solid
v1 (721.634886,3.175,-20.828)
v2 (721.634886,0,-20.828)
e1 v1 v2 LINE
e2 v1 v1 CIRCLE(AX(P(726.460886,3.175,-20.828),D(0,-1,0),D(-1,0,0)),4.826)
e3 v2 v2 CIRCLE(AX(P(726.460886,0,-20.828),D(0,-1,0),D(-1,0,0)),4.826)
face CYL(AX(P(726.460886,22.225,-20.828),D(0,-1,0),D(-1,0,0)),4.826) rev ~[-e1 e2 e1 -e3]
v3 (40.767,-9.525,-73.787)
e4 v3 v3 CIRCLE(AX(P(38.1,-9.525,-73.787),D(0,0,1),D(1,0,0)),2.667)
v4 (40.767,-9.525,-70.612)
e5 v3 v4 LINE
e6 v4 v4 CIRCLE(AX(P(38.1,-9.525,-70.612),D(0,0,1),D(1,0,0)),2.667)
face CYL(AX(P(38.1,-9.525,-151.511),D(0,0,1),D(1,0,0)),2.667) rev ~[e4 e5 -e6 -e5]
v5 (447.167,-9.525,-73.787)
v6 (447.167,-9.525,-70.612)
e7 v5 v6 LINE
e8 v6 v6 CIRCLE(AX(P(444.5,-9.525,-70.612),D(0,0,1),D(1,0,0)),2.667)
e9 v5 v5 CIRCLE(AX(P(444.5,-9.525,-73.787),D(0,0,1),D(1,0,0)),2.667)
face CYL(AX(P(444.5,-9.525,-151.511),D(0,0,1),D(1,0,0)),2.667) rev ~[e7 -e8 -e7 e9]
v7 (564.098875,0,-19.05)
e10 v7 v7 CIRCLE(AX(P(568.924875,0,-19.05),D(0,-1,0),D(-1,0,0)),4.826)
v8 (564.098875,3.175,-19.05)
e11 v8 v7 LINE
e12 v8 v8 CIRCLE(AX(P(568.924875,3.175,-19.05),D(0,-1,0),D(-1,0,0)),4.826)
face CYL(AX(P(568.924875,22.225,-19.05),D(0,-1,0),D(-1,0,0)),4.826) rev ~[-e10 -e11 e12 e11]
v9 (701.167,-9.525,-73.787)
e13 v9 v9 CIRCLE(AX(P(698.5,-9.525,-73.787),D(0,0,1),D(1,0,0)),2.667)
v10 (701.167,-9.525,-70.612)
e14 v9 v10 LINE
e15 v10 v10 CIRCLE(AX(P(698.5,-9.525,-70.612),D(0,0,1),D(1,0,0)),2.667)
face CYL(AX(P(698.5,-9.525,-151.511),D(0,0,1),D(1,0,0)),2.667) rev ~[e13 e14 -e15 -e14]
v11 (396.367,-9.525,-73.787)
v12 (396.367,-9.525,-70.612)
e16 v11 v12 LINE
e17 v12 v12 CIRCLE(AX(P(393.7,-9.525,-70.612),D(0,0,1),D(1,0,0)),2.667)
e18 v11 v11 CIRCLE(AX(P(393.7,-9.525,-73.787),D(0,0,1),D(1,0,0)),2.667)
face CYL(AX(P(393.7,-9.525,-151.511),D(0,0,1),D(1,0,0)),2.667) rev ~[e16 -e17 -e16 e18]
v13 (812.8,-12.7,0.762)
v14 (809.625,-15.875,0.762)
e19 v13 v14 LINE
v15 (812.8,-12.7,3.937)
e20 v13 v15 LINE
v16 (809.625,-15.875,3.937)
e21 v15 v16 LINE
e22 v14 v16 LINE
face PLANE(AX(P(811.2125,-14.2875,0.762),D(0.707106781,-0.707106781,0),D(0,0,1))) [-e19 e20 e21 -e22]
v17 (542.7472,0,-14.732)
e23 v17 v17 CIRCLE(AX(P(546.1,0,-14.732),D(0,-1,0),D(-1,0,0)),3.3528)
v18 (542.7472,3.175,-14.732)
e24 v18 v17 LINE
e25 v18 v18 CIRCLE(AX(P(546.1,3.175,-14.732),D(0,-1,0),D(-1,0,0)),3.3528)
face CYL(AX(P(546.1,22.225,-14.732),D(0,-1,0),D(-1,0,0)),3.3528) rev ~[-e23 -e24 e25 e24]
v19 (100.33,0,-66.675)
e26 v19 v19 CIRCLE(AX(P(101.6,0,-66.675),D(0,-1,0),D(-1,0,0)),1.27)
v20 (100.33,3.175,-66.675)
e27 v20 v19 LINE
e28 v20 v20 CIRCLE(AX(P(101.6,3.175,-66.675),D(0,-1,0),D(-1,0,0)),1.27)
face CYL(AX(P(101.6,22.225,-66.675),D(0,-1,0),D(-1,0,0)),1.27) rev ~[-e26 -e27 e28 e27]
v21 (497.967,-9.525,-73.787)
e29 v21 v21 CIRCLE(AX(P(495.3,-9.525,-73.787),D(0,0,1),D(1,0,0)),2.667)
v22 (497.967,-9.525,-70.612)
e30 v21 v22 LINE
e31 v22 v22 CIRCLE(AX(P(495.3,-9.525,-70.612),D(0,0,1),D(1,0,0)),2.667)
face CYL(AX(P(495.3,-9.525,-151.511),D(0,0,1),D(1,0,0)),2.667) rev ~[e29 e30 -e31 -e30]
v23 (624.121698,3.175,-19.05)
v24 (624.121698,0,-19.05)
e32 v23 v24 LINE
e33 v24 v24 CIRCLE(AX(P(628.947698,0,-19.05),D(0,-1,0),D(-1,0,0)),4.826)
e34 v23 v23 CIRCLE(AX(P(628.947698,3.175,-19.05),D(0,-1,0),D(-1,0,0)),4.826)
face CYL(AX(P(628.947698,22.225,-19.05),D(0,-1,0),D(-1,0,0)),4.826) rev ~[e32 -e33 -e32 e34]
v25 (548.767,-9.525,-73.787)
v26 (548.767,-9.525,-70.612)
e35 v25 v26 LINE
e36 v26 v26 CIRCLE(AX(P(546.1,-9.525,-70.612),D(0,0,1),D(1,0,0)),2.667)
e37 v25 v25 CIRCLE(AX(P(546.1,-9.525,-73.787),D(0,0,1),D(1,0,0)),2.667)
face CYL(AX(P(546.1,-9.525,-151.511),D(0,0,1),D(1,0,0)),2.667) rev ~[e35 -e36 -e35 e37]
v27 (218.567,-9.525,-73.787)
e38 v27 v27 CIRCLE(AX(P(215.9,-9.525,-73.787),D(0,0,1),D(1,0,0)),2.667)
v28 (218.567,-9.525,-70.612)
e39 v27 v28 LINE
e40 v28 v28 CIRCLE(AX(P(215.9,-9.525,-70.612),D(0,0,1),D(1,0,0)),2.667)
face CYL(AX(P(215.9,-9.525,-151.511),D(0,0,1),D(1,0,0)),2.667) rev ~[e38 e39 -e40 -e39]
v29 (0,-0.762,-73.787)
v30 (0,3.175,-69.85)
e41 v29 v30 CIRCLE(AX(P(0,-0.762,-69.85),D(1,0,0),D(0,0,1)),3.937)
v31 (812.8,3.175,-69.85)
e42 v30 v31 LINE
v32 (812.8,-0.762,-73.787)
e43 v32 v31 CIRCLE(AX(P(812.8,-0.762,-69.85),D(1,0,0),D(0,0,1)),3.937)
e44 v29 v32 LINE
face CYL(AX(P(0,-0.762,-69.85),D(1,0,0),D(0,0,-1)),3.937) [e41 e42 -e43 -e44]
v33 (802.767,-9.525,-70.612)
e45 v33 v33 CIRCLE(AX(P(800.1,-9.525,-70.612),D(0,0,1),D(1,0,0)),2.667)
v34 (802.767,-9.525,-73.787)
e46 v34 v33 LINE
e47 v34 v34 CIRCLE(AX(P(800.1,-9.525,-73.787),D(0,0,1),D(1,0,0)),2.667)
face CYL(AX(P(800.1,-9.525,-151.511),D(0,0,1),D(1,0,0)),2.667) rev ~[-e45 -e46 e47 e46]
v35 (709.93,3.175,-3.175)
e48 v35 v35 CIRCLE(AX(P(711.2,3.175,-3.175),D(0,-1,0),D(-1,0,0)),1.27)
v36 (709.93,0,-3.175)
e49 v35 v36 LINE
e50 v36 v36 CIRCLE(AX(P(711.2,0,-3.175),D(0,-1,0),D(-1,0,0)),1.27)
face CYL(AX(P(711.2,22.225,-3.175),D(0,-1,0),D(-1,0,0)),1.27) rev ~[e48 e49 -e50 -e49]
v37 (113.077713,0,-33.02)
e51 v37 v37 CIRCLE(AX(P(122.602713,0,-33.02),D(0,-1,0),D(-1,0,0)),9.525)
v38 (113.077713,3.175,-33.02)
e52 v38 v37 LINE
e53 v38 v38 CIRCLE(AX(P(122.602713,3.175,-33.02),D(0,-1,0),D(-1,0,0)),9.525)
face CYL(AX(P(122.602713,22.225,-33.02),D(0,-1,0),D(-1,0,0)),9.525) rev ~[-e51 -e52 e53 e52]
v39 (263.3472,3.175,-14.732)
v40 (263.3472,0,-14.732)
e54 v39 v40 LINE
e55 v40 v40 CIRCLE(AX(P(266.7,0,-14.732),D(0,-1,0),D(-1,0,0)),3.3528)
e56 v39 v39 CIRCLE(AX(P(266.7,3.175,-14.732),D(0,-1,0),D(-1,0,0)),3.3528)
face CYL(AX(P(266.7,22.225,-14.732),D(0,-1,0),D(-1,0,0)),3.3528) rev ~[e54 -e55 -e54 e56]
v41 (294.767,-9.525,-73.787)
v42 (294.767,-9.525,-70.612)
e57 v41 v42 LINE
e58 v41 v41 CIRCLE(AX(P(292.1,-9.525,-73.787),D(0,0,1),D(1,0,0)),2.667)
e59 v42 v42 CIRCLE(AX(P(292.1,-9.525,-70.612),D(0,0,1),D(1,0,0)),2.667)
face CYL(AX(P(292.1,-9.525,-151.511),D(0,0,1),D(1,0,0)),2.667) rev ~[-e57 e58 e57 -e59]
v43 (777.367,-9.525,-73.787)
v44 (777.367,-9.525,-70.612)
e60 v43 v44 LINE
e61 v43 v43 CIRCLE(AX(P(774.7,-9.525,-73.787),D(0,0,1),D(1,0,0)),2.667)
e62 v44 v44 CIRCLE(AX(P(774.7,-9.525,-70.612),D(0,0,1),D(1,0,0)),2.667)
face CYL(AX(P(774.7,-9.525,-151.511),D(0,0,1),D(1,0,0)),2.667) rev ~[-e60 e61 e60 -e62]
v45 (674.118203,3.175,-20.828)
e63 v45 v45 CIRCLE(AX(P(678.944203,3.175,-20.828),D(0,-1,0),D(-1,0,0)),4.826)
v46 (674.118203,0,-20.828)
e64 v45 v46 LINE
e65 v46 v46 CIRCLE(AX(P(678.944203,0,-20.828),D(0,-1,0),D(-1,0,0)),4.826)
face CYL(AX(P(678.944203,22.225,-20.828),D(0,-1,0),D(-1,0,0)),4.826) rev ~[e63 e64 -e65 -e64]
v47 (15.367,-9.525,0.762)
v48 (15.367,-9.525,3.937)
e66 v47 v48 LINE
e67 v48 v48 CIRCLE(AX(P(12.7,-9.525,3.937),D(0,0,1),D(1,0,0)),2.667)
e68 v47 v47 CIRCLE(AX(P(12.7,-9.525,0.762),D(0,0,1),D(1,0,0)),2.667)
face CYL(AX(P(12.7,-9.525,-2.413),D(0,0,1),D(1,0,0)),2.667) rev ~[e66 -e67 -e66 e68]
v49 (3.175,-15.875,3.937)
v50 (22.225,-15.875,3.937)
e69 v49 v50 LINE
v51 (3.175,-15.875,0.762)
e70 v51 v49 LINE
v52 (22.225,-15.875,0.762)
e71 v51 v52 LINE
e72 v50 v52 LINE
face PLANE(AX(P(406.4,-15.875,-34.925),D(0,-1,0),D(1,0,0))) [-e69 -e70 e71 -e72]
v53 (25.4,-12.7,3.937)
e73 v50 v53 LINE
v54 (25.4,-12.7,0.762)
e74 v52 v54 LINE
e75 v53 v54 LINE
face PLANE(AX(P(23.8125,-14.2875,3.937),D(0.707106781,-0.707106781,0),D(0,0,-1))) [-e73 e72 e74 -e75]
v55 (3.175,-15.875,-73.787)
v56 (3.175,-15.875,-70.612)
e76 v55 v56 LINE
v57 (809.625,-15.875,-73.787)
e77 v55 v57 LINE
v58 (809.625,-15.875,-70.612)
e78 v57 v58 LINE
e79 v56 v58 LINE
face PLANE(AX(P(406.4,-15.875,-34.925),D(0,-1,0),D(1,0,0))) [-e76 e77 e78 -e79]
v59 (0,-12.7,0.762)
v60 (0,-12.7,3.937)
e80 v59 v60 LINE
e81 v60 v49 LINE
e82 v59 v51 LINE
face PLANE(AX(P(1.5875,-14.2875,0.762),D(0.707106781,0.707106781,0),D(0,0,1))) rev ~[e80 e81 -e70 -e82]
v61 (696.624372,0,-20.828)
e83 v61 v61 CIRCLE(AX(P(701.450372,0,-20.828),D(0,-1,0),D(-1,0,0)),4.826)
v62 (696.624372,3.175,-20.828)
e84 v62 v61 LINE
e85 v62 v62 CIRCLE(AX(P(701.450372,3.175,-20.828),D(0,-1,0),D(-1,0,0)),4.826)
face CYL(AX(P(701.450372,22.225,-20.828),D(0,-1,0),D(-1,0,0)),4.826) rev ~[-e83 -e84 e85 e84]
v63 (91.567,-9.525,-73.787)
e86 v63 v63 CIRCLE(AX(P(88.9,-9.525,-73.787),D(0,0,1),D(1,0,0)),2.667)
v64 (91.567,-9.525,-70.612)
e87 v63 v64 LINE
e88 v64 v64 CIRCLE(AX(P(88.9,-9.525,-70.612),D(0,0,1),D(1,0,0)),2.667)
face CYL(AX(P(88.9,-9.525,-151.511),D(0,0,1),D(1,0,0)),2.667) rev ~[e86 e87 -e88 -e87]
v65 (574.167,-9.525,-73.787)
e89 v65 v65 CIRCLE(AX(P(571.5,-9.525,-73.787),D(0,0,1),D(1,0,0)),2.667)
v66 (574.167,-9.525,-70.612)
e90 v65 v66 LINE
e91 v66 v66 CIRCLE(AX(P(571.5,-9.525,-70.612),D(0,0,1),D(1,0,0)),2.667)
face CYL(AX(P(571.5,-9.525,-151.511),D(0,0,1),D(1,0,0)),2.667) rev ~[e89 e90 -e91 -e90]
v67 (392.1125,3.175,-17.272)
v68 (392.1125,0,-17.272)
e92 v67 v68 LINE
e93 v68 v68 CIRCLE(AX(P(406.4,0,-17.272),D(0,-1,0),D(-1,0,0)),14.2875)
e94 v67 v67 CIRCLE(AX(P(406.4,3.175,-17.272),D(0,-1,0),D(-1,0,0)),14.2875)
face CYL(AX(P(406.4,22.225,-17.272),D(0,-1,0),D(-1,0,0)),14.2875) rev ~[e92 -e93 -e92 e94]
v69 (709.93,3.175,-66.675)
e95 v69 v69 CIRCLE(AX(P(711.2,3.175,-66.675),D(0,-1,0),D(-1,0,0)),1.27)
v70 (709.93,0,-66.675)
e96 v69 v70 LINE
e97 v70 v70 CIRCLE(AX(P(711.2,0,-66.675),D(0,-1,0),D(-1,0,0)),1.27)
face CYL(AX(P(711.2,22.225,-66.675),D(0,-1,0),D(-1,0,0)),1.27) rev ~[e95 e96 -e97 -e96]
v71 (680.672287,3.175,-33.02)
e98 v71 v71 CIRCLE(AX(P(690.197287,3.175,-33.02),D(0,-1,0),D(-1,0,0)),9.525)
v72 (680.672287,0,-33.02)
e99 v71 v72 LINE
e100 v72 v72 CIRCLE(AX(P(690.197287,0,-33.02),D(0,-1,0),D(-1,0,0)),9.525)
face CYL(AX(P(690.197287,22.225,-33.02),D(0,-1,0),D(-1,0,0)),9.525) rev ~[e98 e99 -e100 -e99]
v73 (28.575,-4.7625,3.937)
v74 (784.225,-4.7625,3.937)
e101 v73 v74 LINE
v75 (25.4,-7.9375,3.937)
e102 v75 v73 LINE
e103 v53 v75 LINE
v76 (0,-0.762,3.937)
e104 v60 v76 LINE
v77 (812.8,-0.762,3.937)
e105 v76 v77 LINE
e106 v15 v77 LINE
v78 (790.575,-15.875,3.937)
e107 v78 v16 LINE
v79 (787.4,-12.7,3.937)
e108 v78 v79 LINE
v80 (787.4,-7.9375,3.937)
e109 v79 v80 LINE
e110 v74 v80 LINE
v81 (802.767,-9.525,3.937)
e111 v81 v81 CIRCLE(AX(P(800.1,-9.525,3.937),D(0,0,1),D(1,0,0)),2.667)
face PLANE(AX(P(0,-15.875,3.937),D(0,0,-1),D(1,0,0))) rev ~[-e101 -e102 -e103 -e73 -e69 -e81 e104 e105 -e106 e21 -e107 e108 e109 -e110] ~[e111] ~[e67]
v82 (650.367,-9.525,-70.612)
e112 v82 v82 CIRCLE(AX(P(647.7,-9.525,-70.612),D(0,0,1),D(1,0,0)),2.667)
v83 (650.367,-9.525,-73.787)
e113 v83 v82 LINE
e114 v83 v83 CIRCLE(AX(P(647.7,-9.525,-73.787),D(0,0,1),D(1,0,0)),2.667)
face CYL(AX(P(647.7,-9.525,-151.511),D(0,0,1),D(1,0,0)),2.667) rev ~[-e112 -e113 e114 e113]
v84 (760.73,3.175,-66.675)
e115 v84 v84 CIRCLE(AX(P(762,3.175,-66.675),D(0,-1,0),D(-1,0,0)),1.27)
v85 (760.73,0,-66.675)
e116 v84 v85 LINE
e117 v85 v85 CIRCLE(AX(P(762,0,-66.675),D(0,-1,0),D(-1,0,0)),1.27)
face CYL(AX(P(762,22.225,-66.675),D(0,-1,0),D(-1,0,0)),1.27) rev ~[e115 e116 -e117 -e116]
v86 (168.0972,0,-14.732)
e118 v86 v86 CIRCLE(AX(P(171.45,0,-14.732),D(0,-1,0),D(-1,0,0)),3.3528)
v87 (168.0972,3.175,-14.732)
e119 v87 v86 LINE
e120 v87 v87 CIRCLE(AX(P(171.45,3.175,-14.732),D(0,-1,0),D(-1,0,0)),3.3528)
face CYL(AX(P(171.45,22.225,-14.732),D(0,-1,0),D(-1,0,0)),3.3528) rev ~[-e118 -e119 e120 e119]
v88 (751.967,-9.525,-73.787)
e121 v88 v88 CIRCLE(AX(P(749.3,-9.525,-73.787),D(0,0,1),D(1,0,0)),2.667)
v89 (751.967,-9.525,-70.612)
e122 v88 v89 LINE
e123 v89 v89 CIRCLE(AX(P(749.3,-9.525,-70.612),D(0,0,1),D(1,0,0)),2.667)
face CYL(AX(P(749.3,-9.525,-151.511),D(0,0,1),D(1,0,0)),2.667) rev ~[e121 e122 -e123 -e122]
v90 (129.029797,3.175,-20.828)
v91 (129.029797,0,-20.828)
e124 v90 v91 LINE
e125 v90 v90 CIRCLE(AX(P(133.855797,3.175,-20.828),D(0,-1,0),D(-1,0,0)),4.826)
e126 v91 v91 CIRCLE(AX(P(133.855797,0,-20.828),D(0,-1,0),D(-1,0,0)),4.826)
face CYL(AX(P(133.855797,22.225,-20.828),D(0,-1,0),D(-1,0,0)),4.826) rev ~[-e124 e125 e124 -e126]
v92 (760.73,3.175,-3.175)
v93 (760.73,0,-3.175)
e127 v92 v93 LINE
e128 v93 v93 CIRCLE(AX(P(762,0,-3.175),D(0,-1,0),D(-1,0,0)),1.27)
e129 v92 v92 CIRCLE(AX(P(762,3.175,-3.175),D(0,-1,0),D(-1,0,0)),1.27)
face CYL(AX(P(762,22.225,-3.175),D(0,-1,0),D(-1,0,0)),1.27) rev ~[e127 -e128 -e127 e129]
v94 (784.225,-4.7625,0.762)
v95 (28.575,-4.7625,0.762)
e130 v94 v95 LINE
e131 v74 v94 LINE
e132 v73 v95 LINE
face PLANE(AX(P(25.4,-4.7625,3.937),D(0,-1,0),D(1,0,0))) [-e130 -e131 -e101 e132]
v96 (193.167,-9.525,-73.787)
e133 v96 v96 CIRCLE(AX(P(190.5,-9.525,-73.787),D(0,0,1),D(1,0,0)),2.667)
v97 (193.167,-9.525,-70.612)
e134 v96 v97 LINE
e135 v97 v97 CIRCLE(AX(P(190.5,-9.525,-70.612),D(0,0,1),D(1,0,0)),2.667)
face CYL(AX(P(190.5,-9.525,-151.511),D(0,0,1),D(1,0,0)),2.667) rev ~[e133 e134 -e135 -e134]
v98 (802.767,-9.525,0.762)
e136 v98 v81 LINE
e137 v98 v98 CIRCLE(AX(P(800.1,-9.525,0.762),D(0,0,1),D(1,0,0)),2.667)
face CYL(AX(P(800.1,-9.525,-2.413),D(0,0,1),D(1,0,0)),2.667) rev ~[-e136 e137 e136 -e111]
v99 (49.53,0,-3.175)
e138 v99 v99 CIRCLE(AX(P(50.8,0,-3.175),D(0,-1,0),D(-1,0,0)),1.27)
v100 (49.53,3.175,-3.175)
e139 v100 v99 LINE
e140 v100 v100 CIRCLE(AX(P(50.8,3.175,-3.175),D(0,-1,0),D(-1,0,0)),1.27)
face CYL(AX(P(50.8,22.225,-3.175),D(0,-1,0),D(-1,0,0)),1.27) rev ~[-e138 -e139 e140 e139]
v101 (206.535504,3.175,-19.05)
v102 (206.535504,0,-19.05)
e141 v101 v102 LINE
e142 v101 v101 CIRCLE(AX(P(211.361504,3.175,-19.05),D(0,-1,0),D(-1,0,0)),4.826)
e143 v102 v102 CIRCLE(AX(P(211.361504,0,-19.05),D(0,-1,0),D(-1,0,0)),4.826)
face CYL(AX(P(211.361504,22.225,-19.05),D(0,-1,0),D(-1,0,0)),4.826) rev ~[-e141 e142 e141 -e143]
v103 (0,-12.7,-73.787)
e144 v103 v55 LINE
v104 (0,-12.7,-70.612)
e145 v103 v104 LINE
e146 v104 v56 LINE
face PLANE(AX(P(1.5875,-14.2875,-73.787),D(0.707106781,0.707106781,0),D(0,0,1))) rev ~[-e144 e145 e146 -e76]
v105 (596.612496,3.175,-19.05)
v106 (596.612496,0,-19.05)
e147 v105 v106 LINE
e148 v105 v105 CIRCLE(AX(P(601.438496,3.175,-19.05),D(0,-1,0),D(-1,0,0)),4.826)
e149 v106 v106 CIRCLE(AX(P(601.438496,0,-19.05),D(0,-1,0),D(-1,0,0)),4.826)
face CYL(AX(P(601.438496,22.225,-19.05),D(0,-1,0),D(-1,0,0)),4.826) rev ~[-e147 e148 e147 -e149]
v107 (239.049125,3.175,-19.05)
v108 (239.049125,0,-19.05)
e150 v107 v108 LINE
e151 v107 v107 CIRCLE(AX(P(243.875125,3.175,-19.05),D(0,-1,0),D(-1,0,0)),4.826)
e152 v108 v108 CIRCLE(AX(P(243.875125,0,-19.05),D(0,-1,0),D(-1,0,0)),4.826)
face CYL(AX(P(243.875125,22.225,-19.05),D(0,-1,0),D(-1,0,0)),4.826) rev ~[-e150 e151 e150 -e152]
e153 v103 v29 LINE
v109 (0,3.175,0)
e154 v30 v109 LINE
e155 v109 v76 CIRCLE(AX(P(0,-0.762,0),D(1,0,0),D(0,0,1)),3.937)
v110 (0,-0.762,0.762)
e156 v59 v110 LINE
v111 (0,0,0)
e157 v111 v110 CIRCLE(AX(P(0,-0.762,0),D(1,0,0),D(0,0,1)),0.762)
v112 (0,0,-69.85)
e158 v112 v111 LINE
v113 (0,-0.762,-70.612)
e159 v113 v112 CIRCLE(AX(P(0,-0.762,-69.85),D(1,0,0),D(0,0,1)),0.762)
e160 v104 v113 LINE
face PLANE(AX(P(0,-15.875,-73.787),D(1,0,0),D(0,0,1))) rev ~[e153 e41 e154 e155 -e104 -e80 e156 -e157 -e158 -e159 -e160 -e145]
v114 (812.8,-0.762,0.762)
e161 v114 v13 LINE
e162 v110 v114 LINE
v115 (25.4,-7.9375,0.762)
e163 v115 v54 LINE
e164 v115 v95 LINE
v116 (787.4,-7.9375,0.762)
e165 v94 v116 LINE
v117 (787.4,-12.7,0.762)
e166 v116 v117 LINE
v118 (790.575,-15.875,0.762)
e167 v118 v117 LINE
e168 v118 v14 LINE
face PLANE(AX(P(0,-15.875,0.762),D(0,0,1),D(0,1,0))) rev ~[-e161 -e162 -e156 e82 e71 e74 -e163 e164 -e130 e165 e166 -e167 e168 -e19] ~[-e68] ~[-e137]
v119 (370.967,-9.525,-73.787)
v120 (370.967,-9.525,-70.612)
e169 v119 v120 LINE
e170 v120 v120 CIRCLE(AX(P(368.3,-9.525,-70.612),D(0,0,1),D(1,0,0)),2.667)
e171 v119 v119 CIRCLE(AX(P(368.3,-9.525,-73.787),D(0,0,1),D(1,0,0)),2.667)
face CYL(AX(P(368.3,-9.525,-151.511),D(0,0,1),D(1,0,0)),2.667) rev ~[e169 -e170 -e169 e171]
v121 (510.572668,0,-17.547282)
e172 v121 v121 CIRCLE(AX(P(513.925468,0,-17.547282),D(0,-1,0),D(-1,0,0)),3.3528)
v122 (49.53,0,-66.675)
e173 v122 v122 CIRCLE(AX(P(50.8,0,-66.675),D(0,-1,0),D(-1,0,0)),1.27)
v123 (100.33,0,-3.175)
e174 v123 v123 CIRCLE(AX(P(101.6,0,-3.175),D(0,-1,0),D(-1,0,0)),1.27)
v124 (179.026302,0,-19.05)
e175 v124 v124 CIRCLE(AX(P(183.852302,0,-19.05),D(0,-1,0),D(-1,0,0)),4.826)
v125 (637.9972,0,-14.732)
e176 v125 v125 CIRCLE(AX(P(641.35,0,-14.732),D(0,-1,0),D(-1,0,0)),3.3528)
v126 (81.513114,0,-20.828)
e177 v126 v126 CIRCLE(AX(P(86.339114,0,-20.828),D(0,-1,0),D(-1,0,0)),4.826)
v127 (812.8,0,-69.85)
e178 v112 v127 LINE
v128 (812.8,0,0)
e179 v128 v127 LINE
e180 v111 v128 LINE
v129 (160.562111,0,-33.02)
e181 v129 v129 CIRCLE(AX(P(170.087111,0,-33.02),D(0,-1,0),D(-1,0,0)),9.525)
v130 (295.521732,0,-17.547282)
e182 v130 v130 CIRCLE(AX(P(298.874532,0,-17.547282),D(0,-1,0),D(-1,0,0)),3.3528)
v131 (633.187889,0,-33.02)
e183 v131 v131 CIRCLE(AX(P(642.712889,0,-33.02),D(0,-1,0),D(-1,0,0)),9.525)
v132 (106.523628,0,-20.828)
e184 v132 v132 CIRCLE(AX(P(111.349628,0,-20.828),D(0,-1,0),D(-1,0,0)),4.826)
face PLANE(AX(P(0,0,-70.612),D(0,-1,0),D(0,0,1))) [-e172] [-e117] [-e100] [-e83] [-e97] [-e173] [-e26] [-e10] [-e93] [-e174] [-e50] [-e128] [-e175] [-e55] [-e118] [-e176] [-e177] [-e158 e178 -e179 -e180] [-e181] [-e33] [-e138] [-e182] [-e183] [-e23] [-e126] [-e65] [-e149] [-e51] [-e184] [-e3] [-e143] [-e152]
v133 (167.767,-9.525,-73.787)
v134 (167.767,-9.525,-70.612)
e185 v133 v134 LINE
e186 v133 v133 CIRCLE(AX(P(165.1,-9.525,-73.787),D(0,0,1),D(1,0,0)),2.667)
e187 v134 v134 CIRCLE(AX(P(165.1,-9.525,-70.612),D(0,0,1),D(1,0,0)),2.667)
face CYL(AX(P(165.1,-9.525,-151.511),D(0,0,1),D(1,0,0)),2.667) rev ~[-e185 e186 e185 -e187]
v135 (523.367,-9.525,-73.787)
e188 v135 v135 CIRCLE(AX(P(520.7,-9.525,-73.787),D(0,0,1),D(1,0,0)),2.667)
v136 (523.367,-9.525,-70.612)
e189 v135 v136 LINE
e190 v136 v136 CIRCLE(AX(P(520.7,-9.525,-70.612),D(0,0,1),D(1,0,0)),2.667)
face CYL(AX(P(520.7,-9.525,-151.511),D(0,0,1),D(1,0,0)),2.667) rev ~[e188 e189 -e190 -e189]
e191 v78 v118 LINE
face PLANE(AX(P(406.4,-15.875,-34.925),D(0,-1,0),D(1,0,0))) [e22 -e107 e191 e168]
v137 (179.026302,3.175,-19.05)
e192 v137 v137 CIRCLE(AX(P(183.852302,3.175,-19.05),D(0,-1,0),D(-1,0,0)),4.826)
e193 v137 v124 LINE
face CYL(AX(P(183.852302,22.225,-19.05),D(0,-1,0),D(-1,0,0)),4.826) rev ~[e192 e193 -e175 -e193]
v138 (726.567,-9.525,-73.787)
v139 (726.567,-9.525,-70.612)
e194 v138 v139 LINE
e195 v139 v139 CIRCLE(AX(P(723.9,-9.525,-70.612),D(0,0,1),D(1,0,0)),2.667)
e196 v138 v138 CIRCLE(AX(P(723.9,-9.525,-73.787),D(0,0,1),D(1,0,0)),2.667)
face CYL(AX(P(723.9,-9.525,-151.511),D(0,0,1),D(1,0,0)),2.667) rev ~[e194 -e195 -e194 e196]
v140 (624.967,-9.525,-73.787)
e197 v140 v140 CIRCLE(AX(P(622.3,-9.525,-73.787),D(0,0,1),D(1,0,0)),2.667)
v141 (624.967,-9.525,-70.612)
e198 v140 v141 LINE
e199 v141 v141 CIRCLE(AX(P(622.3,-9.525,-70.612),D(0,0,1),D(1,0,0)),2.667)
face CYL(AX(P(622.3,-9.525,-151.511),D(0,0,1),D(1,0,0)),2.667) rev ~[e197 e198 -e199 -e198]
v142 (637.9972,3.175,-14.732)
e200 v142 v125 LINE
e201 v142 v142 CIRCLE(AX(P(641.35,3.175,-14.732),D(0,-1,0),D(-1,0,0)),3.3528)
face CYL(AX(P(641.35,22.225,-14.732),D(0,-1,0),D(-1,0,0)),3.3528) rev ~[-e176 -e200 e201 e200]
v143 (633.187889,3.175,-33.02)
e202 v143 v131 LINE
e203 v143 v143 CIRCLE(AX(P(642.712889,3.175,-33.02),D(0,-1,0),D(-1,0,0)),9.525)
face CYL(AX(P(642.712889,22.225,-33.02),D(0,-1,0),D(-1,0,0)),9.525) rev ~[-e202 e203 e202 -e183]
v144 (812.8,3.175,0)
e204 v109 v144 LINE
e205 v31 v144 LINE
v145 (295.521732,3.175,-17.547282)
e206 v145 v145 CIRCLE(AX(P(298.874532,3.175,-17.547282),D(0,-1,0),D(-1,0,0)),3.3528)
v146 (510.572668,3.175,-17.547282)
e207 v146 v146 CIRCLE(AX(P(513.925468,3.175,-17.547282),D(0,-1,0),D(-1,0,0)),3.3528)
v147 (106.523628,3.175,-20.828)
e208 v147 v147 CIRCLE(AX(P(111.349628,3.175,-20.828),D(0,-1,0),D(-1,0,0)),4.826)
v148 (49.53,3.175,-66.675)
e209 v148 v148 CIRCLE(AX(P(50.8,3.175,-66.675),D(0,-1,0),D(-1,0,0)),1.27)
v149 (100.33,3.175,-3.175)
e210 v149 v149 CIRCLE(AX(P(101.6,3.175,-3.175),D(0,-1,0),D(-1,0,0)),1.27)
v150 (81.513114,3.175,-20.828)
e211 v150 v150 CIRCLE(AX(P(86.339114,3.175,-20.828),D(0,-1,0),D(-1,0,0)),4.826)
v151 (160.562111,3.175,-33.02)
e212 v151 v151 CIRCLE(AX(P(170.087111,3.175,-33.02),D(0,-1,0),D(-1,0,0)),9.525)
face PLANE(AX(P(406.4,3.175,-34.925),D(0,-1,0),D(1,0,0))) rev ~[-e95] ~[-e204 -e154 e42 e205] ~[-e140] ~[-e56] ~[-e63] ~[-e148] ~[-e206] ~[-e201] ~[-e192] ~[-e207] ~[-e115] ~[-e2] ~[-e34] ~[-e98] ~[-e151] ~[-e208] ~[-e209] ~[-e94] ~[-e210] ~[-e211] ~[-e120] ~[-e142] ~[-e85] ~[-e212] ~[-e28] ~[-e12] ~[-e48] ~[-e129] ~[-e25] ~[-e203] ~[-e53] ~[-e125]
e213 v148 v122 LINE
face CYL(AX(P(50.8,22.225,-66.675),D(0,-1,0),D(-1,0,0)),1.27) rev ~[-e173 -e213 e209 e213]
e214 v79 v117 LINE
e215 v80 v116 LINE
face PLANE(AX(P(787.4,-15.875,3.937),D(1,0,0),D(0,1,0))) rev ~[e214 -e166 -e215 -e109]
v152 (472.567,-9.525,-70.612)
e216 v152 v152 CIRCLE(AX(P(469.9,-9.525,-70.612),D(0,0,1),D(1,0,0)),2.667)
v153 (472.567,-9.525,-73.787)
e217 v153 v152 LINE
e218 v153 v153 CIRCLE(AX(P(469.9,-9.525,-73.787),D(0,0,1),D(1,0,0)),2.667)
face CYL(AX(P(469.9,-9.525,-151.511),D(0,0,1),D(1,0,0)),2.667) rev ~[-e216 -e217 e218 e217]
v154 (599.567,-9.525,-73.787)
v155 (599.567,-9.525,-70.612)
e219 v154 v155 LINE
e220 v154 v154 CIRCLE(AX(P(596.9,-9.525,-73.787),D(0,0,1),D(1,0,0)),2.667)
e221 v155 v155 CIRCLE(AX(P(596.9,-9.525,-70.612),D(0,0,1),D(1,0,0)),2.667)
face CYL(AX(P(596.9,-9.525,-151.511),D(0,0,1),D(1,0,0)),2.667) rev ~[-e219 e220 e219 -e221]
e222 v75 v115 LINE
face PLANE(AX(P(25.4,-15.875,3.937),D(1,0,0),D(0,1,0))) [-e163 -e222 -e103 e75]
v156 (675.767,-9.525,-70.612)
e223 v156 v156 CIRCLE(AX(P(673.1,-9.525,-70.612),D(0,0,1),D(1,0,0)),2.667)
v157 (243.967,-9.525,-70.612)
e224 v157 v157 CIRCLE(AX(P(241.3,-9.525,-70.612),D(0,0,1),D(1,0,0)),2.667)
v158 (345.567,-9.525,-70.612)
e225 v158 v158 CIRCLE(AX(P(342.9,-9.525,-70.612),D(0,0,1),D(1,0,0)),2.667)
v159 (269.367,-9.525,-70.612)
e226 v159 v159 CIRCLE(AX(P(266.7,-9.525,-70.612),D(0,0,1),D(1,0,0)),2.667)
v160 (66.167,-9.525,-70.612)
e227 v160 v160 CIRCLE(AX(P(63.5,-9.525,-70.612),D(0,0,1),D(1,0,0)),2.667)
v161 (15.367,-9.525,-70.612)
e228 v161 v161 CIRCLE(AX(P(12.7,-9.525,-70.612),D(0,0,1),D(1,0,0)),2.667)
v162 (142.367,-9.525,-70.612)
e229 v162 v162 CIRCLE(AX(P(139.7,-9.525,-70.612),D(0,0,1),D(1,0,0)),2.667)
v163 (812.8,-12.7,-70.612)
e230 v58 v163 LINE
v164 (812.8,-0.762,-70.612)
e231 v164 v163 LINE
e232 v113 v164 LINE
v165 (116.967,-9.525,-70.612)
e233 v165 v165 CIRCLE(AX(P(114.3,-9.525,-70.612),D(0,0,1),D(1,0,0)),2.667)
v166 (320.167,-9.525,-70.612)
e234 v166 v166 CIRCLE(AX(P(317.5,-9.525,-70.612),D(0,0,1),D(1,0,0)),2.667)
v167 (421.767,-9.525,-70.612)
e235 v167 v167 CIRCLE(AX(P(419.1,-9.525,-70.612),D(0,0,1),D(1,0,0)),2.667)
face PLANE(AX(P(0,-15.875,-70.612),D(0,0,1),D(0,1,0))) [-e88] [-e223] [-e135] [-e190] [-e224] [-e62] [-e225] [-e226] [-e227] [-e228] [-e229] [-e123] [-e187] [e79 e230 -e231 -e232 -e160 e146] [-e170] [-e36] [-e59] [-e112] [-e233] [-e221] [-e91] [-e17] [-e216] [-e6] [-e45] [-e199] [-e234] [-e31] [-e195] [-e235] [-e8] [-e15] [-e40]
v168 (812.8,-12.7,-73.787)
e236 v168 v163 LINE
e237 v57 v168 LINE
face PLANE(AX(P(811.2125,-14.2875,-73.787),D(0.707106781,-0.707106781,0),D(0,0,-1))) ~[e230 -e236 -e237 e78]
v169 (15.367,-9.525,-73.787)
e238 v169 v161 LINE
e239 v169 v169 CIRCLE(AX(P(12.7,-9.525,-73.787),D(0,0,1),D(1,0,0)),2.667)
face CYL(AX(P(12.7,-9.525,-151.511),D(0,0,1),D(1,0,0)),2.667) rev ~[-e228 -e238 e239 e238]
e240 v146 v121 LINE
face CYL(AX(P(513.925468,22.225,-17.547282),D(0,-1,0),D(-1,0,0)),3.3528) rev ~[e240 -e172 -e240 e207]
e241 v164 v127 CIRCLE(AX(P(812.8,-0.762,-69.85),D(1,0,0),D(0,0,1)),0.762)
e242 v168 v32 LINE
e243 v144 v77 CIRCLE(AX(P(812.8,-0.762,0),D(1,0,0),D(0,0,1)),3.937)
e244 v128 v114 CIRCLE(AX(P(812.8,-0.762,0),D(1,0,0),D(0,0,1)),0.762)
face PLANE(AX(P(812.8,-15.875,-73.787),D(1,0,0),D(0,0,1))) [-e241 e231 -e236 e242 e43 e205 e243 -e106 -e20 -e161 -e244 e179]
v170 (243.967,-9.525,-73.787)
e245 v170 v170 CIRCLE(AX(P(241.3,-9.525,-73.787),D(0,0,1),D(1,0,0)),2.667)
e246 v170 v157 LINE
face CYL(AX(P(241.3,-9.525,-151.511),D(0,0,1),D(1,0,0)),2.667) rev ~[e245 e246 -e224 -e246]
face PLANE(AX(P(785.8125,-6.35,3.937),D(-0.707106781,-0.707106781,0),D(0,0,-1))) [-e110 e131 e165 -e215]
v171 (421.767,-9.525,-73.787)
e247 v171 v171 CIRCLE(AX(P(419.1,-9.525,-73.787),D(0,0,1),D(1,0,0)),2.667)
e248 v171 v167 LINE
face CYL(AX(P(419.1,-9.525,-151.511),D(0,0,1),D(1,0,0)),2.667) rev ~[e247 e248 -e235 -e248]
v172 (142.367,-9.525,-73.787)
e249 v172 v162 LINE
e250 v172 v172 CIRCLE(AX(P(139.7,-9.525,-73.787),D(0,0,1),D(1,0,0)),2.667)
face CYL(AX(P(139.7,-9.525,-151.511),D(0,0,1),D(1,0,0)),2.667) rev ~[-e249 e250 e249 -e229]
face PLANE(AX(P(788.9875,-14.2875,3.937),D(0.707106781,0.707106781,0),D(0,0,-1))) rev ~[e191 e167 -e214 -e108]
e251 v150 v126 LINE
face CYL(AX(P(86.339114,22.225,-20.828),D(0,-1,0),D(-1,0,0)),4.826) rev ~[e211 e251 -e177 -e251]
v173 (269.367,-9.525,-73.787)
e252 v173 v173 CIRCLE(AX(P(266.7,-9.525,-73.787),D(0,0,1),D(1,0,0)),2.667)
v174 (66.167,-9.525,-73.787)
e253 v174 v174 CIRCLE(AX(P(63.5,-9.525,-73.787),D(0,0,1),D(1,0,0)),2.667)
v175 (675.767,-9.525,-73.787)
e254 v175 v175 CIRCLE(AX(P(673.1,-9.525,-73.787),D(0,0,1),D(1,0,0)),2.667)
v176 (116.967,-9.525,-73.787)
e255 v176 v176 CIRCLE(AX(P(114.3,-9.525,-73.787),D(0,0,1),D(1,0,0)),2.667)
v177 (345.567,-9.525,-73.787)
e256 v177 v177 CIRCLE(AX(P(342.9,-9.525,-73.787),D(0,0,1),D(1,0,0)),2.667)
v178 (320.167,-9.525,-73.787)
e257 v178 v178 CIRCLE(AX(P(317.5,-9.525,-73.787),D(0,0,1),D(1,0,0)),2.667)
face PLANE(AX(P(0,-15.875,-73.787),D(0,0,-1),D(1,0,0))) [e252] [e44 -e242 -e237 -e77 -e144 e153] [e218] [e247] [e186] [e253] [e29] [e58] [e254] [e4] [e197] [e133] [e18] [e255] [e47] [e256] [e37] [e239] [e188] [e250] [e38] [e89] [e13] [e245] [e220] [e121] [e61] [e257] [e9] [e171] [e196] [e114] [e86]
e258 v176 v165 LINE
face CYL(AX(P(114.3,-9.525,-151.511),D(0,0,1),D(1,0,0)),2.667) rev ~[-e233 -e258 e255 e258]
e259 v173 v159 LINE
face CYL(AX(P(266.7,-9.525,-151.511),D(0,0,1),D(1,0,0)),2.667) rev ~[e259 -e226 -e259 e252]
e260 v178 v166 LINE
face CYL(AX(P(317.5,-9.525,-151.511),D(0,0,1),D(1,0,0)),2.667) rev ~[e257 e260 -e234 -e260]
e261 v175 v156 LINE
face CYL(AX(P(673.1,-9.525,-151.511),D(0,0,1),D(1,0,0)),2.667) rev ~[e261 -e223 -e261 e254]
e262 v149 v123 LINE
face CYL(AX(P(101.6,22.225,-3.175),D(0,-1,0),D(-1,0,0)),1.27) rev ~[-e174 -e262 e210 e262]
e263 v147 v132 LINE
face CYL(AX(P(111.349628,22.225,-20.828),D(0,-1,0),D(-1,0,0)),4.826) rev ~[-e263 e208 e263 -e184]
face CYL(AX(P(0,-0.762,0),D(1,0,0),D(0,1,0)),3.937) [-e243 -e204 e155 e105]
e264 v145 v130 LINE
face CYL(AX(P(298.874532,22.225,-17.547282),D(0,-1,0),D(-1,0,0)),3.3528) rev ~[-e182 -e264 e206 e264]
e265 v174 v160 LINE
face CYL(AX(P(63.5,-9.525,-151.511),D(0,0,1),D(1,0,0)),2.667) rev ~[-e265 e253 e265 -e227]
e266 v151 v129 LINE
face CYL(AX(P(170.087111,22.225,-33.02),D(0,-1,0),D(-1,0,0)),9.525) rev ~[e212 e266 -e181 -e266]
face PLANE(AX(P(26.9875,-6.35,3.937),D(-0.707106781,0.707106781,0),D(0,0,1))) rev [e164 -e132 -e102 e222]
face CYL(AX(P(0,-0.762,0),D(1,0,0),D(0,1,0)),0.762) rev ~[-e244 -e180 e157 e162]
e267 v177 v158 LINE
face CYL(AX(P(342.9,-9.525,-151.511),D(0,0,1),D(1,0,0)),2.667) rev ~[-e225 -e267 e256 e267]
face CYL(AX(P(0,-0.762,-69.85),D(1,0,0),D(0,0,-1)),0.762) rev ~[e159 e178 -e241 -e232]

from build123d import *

# Parameters (mm, degrees)
SKETCH1_W                       = 812.8
SKETCH1_H                       = 77.724
BOSS_EXTRUDE1_DEPTH             = 19.05
SKETCH2_W                       = 71.374
SKETCH2_H                       = 15.875
CUT_EXTRUDE1_DEPTH              = 817.296745672
CUT_EXTRUDE2_REACH              = 818.662
SKETCH3_W                       = 762
SKETCH3_H                       = 11.1125
HOLE1_D                         = 28.575
HOLE1_DEPTH                     = 19.05
HOLE2_D                         = 9.652
HOLE2_DEPTH                     = 19.05
F_2_CLEARANCE_HOLE1_D           = 2.54
F_2_CLEARANCE_HOLE1_DEPTH       = 19.05
F_3_4_0_75_DIAMETER_HOLE1_D     = 19.05
F_3_4_0_75_DIAMETER_HOLE1_DEPTH = 19.05
F_1_4_CLEARANCE_HOLE1_D         = 6.7056
F_1_4_CLEARANCE_HOLE1_DEPTH     = 19.05
F_10_CLEARANCE_HOLE1_D          = 5.334
F_10_CLEARANCE_HOLE1_DEPTH      = 3.175
F_10_CLEARANCE_HOLE2_D          = 5.334
F_10_CLEARANCE_HOLE2_DEPTH      = 77.724
CHAMFER1_SIZE                   = 3.175
FILLET1_R                       = 0.762
FILLET2_R                       = 3.937


with BuildPart() as part:
    # Sketch1 → Boss-Extrude1 (new body)
    with BuildSketch(Plane.XZ.offset(15.875)):
        with Locations((406.4, -34.925)):
            Rectangle(SKETCH1_W, SKETCH1_H)
    extrude(amount=-BOSS_EXTRUDE1_DEPTH)

    # Sketch2 → Cut-Extrude1 (cut, through all)
    with BuildSketch(Plane.ZY):
        with Locations((-34.925, -7.9375)):
            Rectangle(SKETCH2_W, SKETCH2_H)
    extrude(amount=-CUT_EXTRUDE1_DEPTH, mode=Mode.SUBTRACT)

    # Sketch3 → Cut-Extrude2 (cut, up to next)
    with BuildSketch(Plane.XY.offset(3.937), mode=Mode.PRIVATE) as cut_extrude2_sk1:
        with Locations((406.4, -10.31875)):
            Rectangle(SKETCH3_W, SKETCH3_H)
    cut_extrude2_tool1 = extrude(cut_extrude2_sk1.sketch, amount=-CUT_EXTRUDE2_REACH, mode=Mode.PRIVATE) & part.part
    add(cut_extrude2_tool1.solids().sort_by_distance((406.4, -10.31875, 3.937))[0], mode=Mode.SUBTRACT)

    # Hole1
    with Locations(Plane(origin=(0, 3.175, 0), x_dir=(1, 0, 0), z_dir=(0, 1, 0))):
        with Locations((406.4, 17.272)):
            Hole(HOLE1_D / 2, depth=HOLE1_DEPTH)

    # Hole2
    with Locations(Plane(origin=(0, 3.175, 0), x_dir=(1, 0, 0), z_dir=(0, 1, 0))):
        with Locations((568.924874752, 19.05), (601.438495912, 19.05), (628.947697627, 19.05), (243.875125248, 19.05), (211.361504088, 19.05), (183.852302373, 19.05), (678.944202666, 20.828), (701.450372003, 20.828), (726.460886343, 20.828), (133.855797334, 20.828), (111.349627997, 20.828), (86.339113657, 20.828)):
            Hole(HOLE2_D / 2, depth=HOLE2_DEPTH)

    # #2 Clearance Hole1
    with Locations(Plane(origin=(0, 3.175, 0), x_dir=(1, 0, 0), z_dir=(0, 1, 0))):
        with Locations((711.2, 3.175), (711.2, 66.675), (762, 3.175), (762, 66.675), (101.6, 3.175), (50.8, 3.175), (101.6, 66.675), (50.8, 66.675)):
            Hole(F_2_CLEARANCE_HOLE1_D / 2, depth=F_2_CLEARANCE_HOLE1_DEPTH)

    # 3/4 (0.75) Diameter Hole1
    with Locations(Plane(origin=(0, 3.175, 0), x_dir=(1, 0, 0), z_dir=(0, 1, 0))):
        with Locations((690.197287335, 33.02), (642.712889143, 33.02), (170.087110857, 33.02), (122.602712665, 33.02)):
            Hole(F_3_4_0_75_DIAMETER_HOLE1_D / 2, depth=F_3_4_0_75_DIAMETER_HOLE1_DEPTH)

    # 1/4 Clearance Hole1
    with Locations(Plane(origin=(0, 3.175, 0), x_dir=(1, 0, 0), z_dir=(0, 1, 0))):
        with Locations((641.35, 14.732), (546.1, 14.732), (171.45, 14.732), (266.7, 14.732), (513.925467617, 17.547282407), (298.874532383, 17.547282407)):
            Hole(F_1_4_CLEARANCE_HOLE1_D / 2, depth=F_1_4_CLEARANCE_HOLE1_DEPTH)

    # #10 Clearance Hole1
    with Locations(Plane(origin=(0, 0, 0.762), x_dir=(-1, 0, 0), z_dir=(0, 0, -1))):
        with Locations((-12.7, -9.525), (-800.1, -9.525)):
            Hole(F_10_CLEARANCE_HOLE1_D / 2, depth=F_10_CLEARANCE_HOLE1_DEPTH)

    # #10 Clearance Hole2
    with Locations(Plane(origin=(0, 0, -73.787), x_dir=(-1, 0, 0), z_dir=(0, 0, -1))):
        with Locations((-800.1, -9.525), (-774.7, -9.525), (-749.3, -9.525), (-723.9, -9.525), (-698.5, -9.525), (-673.1, -9.525), (-647.7, -9.525), (-622.3, -9.525), (-596.9, -9.525), (-571.5, -9.525), (-546.1, -9.525), (-520.7, -9.525), (-495.3, -9.525), (-469.9, -9.525), (-444.5, -9.525), (-419.1, -9.525), (-393.7, -9.525), (-368.3, -9.525), (-342.9, -9.525), (-317.5, -9.525), (-292.1, -9.525), (-266.7, -9.525), (-241.3, -9.525), (-215.9, -9.525), (-190.5, -9.525), (-165.1, -9.525), (-139.7, -9.525), (-114.3, -9.525), (-88.9, -9.525), (-63.5, -9.525), (-38.1, -9.525), (-12.7, -9.525)):
            Hole(F_10_CLEARANCE_HOLE2_D / 2, depth=F_10_CLEARANCE_HOLE2_DEPTH)

    # Chamfer1
    chamfer1_edges = [part.edges().sort_by_distance(p)[0] for p in [
        (812.8, -15.875, 2.3495),
        (0, -15.875, -72.1995),
        (787.4, -4.7625, 2.3495),
        (25.4, -4.7625, 2.3495),
        (25.4, -15.875, 2.3495),
        (787.4, -15.875, 2.3495),
        (0, -15.875, 2.3495),
        (812.8, -15.875, -72.1995),
    ]]
    chamfer(chamfer1_edges, length=CHAMFER1_SIZE)

    # Fillet1
    fillet1_edges = [part.edges().sort_by_distance(p)[0] for p in [
        (406.4, 0, -70.612),
        (406.4, 0, 0.762),
    ]]
    fillet(fillet1_edges, radius=FILLET1_R)

    # Fillet2
    fillet2_edges = [part.edges().sort_by_distance(p)[0] for p in [
        (406.4, 3.175, -73.787),
        (406.4, 3.175, 3.937),
    ]]
    fillet(fillet2_edges, radius=FILLET2_R)


solid = part.part
